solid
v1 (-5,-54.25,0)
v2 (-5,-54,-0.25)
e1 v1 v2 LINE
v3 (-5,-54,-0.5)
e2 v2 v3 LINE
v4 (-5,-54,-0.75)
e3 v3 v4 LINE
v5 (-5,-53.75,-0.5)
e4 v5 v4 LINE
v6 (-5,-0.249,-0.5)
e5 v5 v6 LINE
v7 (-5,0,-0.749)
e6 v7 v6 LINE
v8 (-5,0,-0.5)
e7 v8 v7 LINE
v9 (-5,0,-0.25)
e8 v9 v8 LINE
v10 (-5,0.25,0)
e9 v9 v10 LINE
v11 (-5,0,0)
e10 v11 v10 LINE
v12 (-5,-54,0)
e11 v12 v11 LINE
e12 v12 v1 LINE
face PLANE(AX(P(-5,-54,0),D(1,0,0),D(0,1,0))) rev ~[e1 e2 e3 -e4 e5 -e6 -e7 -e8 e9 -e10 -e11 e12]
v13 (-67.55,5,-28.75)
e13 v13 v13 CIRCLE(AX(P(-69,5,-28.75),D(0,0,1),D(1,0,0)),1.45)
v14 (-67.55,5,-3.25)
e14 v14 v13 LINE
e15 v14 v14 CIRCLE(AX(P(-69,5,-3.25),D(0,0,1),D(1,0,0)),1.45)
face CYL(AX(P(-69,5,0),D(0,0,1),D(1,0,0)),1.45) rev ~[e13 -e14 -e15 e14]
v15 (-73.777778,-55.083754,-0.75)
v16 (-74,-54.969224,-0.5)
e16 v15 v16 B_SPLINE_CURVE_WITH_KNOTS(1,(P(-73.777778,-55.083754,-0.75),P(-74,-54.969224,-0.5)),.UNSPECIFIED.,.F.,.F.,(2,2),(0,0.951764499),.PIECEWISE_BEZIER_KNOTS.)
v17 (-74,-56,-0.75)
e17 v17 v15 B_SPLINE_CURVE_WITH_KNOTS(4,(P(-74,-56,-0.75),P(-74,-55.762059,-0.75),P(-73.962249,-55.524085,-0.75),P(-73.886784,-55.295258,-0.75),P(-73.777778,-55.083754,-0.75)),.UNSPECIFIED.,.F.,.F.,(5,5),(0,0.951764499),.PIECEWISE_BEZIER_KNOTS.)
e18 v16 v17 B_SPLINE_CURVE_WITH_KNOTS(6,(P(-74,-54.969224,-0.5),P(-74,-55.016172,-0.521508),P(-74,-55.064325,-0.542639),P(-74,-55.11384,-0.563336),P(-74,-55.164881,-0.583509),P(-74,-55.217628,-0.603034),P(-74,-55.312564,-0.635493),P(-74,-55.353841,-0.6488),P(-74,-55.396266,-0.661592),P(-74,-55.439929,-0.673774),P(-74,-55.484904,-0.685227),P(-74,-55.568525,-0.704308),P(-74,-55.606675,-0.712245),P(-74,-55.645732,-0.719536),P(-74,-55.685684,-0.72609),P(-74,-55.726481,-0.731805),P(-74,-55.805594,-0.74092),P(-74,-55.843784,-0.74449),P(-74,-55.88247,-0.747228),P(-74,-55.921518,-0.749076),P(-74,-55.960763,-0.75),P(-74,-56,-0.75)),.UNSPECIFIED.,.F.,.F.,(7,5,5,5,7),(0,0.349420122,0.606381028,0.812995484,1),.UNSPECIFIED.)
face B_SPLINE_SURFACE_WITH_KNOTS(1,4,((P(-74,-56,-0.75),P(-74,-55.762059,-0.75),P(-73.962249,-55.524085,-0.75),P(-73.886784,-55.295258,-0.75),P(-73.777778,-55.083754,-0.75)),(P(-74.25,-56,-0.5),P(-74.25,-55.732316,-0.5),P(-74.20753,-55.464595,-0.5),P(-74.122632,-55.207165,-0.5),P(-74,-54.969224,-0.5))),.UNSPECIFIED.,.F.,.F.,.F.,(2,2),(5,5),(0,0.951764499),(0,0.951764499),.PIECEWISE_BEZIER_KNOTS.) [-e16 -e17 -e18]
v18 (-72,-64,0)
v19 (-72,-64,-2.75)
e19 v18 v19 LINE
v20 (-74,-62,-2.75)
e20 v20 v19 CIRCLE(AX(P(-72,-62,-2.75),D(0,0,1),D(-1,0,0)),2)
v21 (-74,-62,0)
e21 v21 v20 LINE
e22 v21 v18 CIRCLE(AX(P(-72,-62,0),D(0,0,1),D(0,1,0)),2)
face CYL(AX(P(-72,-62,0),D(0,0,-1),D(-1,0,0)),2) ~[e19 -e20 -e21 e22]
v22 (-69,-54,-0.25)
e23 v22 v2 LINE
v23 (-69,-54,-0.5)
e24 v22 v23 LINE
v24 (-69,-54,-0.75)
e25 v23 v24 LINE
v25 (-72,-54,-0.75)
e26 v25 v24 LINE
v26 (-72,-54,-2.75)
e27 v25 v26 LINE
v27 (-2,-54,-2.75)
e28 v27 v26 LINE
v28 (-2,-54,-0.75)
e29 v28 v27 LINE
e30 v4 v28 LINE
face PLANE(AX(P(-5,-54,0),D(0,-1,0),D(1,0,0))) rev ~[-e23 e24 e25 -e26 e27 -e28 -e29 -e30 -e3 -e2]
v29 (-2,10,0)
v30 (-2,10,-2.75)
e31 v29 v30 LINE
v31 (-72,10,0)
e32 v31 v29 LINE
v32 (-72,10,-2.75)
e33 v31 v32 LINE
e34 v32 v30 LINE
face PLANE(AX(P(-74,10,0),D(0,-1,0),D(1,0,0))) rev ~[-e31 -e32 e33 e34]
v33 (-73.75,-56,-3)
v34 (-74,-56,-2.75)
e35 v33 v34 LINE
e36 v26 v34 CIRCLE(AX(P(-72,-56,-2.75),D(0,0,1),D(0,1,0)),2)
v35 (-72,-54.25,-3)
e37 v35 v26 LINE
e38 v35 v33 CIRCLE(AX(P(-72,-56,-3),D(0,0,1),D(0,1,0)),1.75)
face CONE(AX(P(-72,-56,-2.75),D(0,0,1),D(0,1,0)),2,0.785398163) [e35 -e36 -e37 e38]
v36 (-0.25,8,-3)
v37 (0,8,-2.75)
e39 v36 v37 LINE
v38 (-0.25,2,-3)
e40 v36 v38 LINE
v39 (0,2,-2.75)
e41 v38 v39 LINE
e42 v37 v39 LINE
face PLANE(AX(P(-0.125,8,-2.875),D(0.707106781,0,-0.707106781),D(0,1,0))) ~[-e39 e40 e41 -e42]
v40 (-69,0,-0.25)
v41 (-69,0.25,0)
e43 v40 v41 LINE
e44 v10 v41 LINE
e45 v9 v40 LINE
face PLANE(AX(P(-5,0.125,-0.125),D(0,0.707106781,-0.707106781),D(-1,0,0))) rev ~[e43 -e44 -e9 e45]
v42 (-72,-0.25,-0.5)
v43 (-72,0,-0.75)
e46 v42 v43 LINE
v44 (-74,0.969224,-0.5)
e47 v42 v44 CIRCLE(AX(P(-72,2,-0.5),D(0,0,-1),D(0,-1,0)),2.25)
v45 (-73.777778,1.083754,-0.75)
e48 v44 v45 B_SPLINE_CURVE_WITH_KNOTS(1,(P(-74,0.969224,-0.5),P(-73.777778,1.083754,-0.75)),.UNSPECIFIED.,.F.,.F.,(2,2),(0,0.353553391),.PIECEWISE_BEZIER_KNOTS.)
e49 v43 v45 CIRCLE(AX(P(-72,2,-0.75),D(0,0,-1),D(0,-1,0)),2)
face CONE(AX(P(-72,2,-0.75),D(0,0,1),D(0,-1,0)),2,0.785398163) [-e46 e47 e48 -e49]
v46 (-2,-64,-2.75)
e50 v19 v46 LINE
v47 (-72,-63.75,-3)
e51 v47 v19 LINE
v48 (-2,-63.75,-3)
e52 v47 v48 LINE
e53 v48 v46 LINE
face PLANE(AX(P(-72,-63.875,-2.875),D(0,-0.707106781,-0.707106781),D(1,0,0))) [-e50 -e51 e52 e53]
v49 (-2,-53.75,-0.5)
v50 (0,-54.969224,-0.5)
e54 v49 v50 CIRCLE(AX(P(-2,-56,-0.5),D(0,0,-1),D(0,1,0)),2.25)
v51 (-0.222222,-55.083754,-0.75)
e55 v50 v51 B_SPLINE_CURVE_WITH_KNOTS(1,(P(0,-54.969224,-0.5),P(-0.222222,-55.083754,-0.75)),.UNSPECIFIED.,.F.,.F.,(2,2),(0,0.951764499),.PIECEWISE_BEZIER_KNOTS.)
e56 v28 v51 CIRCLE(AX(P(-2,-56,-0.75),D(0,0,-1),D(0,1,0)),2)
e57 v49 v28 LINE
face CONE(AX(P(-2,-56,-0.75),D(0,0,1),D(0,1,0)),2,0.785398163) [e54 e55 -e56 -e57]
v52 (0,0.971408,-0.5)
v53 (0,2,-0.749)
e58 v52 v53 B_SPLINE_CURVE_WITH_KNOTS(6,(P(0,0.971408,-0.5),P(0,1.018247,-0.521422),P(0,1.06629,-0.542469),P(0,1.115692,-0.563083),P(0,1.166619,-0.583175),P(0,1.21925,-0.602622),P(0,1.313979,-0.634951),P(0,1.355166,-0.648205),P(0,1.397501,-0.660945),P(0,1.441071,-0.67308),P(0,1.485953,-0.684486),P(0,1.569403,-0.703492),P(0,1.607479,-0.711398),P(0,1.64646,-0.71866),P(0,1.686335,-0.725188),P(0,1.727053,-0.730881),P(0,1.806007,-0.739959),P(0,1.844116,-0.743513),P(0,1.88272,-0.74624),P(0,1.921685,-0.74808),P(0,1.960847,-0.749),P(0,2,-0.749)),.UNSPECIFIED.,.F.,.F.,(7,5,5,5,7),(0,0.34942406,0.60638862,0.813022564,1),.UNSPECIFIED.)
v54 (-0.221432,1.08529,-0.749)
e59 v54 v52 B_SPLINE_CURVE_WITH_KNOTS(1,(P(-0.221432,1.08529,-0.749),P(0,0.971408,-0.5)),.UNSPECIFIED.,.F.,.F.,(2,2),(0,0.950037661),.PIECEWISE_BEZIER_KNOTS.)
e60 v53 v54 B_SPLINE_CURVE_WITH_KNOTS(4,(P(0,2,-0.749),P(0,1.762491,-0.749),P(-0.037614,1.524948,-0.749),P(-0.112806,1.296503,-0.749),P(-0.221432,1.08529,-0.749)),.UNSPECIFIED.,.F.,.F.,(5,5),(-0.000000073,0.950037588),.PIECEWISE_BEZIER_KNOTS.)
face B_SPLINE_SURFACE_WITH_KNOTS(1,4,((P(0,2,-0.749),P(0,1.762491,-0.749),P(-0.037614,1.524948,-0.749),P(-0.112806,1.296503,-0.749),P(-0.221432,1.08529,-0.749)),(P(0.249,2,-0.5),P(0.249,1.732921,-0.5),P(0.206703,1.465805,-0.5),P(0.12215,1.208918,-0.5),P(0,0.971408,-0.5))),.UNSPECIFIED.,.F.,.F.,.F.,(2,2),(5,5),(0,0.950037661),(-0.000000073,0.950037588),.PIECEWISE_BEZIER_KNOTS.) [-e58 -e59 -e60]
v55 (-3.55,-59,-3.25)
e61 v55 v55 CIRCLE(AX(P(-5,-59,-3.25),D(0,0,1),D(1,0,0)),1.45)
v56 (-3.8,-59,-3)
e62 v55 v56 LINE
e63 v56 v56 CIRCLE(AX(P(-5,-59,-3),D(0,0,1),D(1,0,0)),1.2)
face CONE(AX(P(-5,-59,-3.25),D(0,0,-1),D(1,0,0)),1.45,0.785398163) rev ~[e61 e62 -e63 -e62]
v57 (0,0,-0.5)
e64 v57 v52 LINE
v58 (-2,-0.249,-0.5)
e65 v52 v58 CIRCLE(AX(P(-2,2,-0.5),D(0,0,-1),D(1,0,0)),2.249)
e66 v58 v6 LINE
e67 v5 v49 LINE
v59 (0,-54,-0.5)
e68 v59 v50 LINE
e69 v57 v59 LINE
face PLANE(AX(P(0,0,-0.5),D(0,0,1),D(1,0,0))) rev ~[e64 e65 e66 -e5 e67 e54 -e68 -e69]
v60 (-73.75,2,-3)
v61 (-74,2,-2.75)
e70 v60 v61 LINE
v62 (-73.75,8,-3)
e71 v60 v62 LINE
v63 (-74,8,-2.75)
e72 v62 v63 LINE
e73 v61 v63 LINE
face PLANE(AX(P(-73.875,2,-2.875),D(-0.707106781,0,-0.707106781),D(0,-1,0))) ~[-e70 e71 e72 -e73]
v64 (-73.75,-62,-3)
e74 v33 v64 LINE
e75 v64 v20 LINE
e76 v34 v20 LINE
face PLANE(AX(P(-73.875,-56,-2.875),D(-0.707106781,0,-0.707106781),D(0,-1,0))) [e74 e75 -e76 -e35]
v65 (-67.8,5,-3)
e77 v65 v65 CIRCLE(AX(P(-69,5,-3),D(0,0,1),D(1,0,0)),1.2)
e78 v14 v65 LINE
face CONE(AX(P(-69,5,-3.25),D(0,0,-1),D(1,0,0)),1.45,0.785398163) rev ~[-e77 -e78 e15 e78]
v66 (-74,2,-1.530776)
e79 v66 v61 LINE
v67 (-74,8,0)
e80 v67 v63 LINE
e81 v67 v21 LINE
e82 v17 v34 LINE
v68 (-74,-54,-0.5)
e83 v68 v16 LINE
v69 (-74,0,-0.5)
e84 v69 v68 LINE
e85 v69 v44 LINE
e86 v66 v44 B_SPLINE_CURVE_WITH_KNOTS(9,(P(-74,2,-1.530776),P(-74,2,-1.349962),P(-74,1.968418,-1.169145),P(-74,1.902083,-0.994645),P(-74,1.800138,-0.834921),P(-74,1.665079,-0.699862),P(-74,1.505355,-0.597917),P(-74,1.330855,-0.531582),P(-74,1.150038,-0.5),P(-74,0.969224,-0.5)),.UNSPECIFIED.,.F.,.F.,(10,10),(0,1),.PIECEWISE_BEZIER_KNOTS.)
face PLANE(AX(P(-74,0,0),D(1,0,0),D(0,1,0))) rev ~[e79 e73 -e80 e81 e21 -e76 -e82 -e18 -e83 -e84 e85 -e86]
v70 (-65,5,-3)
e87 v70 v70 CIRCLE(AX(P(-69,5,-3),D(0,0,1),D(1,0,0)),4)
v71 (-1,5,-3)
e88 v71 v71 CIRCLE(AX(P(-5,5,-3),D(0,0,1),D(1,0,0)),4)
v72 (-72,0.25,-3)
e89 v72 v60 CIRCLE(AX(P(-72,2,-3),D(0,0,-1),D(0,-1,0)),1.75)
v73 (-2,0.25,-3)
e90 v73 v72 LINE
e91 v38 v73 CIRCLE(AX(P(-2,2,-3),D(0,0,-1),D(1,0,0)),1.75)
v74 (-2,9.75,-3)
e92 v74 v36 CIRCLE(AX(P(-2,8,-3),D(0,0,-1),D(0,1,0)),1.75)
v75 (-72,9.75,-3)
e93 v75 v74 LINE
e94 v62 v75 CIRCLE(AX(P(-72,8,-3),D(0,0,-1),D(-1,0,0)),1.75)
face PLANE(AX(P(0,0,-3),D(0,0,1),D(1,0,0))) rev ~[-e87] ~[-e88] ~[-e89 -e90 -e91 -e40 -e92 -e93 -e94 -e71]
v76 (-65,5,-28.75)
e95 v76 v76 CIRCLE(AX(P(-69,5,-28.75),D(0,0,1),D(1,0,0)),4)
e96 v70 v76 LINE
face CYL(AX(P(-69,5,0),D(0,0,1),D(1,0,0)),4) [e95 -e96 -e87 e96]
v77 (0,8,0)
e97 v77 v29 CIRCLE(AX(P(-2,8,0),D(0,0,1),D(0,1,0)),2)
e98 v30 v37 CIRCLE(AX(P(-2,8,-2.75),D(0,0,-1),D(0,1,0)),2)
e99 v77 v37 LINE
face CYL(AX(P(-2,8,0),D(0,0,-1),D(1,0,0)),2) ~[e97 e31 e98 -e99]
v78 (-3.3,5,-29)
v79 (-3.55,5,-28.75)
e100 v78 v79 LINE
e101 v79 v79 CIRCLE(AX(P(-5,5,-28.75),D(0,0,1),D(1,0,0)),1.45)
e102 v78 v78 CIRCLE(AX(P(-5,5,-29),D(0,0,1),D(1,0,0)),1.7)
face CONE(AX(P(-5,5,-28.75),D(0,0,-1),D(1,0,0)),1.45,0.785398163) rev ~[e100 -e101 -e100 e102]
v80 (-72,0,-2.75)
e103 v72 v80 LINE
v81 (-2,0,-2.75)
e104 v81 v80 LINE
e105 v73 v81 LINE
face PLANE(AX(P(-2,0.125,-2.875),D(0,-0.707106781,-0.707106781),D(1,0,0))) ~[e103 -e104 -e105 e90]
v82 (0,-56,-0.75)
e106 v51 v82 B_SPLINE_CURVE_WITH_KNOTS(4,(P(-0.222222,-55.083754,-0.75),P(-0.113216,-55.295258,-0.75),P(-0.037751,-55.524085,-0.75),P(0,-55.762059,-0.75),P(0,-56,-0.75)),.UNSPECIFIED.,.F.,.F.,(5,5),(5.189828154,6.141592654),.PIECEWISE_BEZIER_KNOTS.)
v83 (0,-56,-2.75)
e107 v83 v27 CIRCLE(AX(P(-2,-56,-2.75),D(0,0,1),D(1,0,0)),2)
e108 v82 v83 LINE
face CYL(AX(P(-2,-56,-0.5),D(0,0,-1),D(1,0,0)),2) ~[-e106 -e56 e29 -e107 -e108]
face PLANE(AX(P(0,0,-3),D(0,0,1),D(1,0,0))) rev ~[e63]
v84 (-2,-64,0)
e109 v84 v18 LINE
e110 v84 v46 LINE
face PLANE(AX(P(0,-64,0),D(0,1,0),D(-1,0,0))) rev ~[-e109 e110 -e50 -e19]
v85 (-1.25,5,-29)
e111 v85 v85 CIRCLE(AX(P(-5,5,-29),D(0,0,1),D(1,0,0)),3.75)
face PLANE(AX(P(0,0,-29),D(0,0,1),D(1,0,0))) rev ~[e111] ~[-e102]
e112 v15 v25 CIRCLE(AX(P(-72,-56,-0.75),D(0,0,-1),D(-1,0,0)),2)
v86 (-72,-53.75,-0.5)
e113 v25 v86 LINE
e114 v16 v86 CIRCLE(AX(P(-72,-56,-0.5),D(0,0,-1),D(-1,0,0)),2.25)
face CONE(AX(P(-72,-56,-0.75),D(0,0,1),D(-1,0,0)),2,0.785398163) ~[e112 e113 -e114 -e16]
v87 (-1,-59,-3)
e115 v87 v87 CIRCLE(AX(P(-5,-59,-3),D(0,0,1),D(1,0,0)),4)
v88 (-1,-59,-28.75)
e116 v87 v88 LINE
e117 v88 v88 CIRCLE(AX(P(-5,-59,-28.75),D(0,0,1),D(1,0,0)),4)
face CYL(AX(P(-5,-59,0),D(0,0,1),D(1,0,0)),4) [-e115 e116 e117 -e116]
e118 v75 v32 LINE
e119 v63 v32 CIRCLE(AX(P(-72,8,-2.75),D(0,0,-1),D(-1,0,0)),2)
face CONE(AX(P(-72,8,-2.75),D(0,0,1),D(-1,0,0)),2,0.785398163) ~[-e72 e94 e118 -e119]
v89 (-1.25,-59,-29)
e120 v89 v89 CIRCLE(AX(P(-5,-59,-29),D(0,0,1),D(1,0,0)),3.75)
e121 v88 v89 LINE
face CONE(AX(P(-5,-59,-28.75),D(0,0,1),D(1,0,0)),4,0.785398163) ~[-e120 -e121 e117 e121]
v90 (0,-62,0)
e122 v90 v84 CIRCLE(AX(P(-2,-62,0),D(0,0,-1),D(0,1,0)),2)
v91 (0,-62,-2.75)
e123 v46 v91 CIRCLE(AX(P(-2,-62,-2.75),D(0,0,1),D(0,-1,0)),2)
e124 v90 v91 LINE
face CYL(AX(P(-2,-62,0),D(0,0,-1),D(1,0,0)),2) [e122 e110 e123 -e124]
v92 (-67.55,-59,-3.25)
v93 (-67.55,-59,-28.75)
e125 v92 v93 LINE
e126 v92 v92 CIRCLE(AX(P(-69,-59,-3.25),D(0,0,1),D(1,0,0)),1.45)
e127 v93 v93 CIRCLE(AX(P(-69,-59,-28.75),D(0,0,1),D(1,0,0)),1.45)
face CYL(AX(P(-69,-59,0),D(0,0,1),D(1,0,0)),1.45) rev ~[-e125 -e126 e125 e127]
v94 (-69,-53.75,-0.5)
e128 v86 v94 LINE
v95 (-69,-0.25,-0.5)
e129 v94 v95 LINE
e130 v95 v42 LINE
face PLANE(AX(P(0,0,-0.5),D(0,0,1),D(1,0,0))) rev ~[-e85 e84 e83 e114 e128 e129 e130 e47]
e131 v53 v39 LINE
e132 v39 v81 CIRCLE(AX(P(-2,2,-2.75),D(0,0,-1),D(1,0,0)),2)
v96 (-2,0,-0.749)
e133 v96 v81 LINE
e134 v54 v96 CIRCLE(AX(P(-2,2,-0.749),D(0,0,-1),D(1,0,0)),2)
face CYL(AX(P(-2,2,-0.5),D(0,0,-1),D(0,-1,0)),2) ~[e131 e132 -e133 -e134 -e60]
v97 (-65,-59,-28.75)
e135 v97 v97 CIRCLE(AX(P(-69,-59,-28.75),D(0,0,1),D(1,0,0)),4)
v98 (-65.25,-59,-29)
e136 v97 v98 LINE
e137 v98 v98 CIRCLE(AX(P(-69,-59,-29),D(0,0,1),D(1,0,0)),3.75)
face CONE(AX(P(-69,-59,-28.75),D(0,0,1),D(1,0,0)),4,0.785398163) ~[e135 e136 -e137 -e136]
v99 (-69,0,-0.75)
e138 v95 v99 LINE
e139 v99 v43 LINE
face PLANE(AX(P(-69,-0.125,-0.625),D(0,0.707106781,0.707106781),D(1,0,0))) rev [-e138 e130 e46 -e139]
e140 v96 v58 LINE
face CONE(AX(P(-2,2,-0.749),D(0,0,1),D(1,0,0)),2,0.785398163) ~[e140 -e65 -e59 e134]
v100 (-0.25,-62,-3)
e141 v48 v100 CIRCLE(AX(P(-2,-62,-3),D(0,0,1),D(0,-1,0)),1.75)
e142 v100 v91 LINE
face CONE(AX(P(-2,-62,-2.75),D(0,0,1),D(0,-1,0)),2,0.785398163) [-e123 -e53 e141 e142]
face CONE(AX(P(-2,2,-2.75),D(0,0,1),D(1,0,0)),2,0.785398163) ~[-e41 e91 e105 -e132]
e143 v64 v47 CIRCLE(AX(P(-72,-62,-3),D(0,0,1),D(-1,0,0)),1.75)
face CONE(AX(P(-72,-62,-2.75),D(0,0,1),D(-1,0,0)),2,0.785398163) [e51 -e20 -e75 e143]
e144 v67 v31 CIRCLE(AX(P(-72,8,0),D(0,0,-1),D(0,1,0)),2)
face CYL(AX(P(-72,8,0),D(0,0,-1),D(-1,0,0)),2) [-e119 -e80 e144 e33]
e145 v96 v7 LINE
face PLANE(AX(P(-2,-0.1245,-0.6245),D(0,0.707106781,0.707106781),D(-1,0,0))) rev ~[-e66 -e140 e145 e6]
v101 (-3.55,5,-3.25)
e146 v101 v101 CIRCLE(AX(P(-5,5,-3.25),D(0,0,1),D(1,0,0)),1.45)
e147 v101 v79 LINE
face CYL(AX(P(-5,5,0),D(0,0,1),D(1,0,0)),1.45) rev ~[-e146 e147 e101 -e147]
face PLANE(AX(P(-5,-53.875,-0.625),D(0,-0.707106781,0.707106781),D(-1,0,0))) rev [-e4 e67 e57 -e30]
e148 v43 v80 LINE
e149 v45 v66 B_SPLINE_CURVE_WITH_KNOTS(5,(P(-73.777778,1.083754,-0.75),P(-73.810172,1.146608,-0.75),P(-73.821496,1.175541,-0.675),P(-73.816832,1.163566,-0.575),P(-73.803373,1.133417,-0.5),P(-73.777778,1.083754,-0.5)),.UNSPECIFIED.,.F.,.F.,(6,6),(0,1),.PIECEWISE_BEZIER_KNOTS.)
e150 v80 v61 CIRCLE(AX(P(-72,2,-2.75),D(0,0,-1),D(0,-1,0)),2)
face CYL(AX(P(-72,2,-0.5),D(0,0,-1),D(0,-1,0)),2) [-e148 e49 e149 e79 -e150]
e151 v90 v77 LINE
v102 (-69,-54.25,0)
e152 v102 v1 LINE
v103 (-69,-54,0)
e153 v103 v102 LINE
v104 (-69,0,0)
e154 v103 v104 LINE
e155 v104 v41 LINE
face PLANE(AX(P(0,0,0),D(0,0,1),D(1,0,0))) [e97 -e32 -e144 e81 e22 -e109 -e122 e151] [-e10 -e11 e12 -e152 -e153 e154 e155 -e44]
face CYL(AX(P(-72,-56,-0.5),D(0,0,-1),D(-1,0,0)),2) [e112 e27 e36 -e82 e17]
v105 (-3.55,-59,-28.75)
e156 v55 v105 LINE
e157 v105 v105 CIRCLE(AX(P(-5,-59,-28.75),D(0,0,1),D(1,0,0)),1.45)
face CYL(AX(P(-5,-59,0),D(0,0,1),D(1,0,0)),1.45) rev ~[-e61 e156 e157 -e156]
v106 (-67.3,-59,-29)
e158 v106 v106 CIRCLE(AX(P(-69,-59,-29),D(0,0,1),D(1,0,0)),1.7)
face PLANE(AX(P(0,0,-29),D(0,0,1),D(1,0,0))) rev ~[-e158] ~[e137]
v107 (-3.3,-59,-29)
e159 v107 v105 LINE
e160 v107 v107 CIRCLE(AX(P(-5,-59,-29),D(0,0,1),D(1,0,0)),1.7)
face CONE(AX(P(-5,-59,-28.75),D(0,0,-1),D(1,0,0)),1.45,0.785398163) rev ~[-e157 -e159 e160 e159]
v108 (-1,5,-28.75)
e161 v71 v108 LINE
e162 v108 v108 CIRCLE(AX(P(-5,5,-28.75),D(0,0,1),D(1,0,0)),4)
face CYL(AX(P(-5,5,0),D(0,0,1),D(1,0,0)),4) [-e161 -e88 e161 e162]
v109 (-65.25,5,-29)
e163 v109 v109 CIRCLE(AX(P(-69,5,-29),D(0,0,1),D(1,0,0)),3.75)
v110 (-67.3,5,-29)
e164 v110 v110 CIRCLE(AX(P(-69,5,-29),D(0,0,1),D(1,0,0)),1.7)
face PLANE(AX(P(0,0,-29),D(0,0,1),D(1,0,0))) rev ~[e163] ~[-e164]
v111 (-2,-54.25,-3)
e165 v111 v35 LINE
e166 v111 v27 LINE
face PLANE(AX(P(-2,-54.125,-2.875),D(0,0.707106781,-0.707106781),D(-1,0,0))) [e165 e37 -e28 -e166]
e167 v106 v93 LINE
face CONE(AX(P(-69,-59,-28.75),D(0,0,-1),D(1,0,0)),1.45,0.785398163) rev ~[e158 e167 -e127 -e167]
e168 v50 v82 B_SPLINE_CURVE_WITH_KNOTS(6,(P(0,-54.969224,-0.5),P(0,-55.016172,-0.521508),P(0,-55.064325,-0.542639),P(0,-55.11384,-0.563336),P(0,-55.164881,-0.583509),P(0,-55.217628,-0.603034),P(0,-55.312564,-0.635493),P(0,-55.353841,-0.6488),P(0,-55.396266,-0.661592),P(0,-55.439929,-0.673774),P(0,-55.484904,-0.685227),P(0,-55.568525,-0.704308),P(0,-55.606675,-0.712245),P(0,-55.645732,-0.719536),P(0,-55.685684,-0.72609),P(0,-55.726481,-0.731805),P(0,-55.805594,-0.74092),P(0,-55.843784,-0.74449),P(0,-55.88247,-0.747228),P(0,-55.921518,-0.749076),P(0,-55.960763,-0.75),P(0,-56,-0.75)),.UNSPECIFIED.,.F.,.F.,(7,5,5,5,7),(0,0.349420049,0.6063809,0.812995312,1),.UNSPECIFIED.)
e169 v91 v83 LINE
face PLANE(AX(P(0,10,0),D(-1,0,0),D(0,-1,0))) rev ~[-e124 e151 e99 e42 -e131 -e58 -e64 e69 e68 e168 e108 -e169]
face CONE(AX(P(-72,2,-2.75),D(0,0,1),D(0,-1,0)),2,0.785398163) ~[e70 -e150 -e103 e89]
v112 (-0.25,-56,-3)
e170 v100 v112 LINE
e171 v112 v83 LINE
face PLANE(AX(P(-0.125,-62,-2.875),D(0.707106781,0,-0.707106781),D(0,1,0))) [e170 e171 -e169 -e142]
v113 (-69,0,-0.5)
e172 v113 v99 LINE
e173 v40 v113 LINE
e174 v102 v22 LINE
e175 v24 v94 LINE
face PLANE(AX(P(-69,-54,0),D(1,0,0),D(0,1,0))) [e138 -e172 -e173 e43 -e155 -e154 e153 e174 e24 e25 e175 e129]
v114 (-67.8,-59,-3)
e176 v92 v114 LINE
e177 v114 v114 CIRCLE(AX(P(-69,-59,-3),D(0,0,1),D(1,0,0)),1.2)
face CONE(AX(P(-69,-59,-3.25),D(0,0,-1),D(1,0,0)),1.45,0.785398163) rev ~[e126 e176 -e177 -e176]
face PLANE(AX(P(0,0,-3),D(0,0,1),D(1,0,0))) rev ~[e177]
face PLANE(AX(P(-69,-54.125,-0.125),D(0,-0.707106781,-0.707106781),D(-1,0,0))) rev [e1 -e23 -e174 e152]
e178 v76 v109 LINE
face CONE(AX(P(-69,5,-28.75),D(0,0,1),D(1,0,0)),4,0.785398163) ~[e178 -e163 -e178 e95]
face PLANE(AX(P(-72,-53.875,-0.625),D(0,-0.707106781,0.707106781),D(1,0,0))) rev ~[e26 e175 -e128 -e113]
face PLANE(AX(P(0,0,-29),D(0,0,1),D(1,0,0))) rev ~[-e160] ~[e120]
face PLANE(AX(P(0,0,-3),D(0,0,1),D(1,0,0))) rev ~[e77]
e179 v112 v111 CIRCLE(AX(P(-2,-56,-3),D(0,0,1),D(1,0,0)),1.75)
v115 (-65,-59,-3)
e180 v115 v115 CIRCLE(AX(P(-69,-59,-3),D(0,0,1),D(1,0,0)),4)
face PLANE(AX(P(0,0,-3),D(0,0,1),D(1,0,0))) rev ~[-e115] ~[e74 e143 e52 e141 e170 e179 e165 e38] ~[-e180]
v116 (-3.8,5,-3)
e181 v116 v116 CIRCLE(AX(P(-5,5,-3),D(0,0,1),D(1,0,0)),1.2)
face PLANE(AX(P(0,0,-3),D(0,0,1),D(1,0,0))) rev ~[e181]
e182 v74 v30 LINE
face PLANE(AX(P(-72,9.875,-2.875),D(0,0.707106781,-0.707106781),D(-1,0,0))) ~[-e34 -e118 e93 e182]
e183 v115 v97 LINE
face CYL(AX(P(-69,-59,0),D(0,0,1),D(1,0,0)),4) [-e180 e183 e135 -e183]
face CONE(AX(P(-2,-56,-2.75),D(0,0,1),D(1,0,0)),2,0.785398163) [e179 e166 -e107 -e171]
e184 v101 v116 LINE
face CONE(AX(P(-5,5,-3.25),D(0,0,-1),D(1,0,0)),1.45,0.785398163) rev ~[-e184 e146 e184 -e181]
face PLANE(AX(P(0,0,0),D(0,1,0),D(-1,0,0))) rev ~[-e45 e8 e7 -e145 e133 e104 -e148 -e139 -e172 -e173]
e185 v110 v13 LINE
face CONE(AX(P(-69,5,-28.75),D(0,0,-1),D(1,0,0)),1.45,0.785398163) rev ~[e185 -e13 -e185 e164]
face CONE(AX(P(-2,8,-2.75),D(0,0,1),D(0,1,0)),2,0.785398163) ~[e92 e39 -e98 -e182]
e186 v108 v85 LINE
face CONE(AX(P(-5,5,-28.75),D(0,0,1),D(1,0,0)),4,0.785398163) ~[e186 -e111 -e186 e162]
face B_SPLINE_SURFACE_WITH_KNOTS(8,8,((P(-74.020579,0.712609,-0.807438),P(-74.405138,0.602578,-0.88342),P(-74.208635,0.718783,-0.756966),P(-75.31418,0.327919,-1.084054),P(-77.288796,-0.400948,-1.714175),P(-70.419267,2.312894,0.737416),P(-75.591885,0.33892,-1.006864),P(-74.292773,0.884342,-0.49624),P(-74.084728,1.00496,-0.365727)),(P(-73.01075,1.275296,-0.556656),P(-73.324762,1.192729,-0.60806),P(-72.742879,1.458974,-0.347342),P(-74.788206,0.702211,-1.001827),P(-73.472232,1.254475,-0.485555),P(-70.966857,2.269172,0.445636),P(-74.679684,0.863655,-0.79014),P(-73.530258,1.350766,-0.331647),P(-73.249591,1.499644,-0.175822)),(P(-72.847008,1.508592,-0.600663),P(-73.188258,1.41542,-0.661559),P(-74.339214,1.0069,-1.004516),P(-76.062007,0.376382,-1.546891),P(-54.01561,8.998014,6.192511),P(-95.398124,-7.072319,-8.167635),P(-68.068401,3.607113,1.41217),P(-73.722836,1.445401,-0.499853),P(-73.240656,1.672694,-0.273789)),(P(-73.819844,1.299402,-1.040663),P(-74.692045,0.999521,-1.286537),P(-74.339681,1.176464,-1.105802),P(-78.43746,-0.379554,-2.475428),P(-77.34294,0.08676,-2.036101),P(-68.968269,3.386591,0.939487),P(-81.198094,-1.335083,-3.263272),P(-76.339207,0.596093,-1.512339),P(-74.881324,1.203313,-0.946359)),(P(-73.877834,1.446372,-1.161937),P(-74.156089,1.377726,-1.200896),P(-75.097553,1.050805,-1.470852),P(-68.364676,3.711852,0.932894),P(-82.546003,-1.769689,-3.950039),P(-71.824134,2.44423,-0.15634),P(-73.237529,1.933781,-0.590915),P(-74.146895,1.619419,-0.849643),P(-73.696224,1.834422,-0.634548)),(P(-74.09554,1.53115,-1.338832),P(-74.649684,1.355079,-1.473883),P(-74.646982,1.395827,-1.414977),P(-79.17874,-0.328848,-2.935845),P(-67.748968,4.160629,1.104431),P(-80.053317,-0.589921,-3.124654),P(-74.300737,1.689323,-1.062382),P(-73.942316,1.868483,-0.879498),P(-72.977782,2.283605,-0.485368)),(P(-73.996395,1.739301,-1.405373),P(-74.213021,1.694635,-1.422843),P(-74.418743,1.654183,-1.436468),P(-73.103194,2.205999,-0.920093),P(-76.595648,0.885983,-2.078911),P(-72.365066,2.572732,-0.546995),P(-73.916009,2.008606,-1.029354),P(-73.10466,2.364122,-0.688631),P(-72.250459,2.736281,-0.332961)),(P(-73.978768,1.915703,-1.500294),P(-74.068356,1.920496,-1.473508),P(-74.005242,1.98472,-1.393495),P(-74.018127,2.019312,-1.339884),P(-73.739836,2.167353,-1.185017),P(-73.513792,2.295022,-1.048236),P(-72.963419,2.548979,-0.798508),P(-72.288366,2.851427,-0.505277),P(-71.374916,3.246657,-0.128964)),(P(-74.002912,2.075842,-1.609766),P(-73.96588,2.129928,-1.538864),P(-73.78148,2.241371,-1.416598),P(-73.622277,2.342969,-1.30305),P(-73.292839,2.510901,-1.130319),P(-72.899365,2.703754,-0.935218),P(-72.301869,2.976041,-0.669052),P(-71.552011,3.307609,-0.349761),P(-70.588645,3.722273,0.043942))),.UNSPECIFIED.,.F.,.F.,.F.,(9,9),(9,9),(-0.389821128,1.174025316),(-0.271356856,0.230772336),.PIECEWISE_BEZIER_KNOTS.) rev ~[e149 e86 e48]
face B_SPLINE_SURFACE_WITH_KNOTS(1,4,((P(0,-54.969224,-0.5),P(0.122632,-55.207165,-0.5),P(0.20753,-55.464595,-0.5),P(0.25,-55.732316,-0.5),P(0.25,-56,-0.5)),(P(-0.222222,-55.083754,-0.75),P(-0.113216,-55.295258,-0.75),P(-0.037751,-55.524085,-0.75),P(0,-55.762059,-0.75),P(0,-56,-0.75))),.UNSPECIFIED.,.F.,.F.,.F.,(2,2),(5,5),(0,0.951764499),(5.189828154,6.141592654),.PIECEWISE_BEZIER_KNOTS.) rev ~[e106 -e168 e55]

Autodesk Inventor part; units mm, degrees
ref_plane "YZ Plane" through (0, 0, 0) normal (1, 0, 0) x (0, 1, 0)
ref_plane "XZ Plane" through (0, 0, 0) normal (0, 1, 0) x (-1, 0, 0)
ref_plane "XY Plane" through (0, 0, 0) normal (0, 0, 1) x (1, 0, 0)
sketch "Sketch1" plane through (0, 0, 0) normal (0, 0, 1) x (1, 0, 0)
  line L0 (0, 0) -> (-74, 0)
  line L1 (-74, 0) -> (-74, 10)
  line L2 (-74, 10) -> (0, 10)
  line L3 (0, 10) -> (0, 0)
  line L4 (-74, 10) -> (-64, 0) construction
  line L5 (0, 10) -> (-10, 0) construction
  circle A0 centre (-69, 5) radius 4
  circle A1 centre (-5, 5) radius 4
  circle A2 centre (-69, 5) radius 1.45
  circle A3 centre (-5, 5) radius 1.45
  line L6 (0, -64) -> (-74, -64)
  line L7 (-74, -64) -> (-74, -54)
  line L8 (-74, -54) -> (0, -54)
  line L9 (0, -54) -> (0, -64)
  line L10 (-74, -54) -> (-64, -64) construction
  line L11 (0, -54) -> (-10, -64) construction
  circle A4 centre (-69, -59) radius 4
  circle A5 centre (-5, -59) radius 4
  circle A6 centre (-69, -59) radius 1.45
  circle A7 centre (-5, -59) radius 1.45
  line L12 (-74, -54) -> (-69, -54)
  line L13 (-69, -54) -> (-69, 0)
  line L14 (-69, 0) -> (-74, 0)
  line L15 (-74, 0) -> (-74, -54)
  line L16 (0, -54) -> (-5, -54)
  line L17 (-5, -54) -> (-5, 0)
  line L18 (-5, 0) -> (0, 0)
  line L19 (0, 0) -> (0, -54)
  point P0 (-5, 0)
  point P1 (-69, -54)
  dimension "d0" = 74
  dimension "d1" = 10
  dimension "d2" = 45
  dimension "d3" = 8
  dimension "d5" = 2.9
  dimension "d22" = 74
  dimension "d23" = 5
extrude "Extrusion1" add sketch "Sketch1" against normal blind 3 contours L0 L1 L2 L3 | L9 L6 L7 L8 | A0 | A1 | A2 | A3 | A4 | A5 | A6 | A7
extrude "Extrusion2" add sketch "Sketch1" against normal blind 29 contours A0 | A1 | A4 | A5
extrude "Extrusion3" add sketch "Sketch1" against normal blind 0.5 contours L19 L8 L17 L0 | L13 L8 L15 L0
fillet "Fillet1" radius 2 8 edges at (-74, 10, -1.5) (-74, 0, -1.75) (0, 10, -1.5) (0, 0, -1.75) (-74, -54, -1.75) (-74, -64, -1.5) (0, -54, -1.75) (0, -64, -1.5)
chamfer "Chamfer1" distance 0.25 angle 45 34 edges at (-37, 10, -3) (-0.5858, 9.4142, -3) (0, 5, -3) (-0.5858, 0.5858, -3) (-37, 0, -3) (-73.4142, 0.5858, -3) (-74, 5, -3) (-73.4142, 9.4142, -3) (-37, 0, 0) (-9, 5, -29) (-6.45, 5, -29) (-73, 5, -29) (-70.45, 5, -29) (-37, -54, -3) (-0.5858, -54.5858, -3) (0, -59, -3) (-0.5858, -63.4142, -3) (-37, -64, -3) (-73.4142, -63.4142, -3) (-74, -59, -3) (-73.4142, -54.5858, -3) (-37, -54, 0) (-73, -59, -29) (-70.45, -59, -29) (-9, -59, -29) (-6.45, -59, -29) (-70.5, 0, -0.5) (-3.5, 0, -0.5) (-3.5, -54, -0.5) (-70.5, -54, -0.5) (-6.45, -59, -3) (-6.45, 5, -3) (-70.45, 5, -3) (-70.45, -59, -3)
properties part number "ScanCoverMount"
